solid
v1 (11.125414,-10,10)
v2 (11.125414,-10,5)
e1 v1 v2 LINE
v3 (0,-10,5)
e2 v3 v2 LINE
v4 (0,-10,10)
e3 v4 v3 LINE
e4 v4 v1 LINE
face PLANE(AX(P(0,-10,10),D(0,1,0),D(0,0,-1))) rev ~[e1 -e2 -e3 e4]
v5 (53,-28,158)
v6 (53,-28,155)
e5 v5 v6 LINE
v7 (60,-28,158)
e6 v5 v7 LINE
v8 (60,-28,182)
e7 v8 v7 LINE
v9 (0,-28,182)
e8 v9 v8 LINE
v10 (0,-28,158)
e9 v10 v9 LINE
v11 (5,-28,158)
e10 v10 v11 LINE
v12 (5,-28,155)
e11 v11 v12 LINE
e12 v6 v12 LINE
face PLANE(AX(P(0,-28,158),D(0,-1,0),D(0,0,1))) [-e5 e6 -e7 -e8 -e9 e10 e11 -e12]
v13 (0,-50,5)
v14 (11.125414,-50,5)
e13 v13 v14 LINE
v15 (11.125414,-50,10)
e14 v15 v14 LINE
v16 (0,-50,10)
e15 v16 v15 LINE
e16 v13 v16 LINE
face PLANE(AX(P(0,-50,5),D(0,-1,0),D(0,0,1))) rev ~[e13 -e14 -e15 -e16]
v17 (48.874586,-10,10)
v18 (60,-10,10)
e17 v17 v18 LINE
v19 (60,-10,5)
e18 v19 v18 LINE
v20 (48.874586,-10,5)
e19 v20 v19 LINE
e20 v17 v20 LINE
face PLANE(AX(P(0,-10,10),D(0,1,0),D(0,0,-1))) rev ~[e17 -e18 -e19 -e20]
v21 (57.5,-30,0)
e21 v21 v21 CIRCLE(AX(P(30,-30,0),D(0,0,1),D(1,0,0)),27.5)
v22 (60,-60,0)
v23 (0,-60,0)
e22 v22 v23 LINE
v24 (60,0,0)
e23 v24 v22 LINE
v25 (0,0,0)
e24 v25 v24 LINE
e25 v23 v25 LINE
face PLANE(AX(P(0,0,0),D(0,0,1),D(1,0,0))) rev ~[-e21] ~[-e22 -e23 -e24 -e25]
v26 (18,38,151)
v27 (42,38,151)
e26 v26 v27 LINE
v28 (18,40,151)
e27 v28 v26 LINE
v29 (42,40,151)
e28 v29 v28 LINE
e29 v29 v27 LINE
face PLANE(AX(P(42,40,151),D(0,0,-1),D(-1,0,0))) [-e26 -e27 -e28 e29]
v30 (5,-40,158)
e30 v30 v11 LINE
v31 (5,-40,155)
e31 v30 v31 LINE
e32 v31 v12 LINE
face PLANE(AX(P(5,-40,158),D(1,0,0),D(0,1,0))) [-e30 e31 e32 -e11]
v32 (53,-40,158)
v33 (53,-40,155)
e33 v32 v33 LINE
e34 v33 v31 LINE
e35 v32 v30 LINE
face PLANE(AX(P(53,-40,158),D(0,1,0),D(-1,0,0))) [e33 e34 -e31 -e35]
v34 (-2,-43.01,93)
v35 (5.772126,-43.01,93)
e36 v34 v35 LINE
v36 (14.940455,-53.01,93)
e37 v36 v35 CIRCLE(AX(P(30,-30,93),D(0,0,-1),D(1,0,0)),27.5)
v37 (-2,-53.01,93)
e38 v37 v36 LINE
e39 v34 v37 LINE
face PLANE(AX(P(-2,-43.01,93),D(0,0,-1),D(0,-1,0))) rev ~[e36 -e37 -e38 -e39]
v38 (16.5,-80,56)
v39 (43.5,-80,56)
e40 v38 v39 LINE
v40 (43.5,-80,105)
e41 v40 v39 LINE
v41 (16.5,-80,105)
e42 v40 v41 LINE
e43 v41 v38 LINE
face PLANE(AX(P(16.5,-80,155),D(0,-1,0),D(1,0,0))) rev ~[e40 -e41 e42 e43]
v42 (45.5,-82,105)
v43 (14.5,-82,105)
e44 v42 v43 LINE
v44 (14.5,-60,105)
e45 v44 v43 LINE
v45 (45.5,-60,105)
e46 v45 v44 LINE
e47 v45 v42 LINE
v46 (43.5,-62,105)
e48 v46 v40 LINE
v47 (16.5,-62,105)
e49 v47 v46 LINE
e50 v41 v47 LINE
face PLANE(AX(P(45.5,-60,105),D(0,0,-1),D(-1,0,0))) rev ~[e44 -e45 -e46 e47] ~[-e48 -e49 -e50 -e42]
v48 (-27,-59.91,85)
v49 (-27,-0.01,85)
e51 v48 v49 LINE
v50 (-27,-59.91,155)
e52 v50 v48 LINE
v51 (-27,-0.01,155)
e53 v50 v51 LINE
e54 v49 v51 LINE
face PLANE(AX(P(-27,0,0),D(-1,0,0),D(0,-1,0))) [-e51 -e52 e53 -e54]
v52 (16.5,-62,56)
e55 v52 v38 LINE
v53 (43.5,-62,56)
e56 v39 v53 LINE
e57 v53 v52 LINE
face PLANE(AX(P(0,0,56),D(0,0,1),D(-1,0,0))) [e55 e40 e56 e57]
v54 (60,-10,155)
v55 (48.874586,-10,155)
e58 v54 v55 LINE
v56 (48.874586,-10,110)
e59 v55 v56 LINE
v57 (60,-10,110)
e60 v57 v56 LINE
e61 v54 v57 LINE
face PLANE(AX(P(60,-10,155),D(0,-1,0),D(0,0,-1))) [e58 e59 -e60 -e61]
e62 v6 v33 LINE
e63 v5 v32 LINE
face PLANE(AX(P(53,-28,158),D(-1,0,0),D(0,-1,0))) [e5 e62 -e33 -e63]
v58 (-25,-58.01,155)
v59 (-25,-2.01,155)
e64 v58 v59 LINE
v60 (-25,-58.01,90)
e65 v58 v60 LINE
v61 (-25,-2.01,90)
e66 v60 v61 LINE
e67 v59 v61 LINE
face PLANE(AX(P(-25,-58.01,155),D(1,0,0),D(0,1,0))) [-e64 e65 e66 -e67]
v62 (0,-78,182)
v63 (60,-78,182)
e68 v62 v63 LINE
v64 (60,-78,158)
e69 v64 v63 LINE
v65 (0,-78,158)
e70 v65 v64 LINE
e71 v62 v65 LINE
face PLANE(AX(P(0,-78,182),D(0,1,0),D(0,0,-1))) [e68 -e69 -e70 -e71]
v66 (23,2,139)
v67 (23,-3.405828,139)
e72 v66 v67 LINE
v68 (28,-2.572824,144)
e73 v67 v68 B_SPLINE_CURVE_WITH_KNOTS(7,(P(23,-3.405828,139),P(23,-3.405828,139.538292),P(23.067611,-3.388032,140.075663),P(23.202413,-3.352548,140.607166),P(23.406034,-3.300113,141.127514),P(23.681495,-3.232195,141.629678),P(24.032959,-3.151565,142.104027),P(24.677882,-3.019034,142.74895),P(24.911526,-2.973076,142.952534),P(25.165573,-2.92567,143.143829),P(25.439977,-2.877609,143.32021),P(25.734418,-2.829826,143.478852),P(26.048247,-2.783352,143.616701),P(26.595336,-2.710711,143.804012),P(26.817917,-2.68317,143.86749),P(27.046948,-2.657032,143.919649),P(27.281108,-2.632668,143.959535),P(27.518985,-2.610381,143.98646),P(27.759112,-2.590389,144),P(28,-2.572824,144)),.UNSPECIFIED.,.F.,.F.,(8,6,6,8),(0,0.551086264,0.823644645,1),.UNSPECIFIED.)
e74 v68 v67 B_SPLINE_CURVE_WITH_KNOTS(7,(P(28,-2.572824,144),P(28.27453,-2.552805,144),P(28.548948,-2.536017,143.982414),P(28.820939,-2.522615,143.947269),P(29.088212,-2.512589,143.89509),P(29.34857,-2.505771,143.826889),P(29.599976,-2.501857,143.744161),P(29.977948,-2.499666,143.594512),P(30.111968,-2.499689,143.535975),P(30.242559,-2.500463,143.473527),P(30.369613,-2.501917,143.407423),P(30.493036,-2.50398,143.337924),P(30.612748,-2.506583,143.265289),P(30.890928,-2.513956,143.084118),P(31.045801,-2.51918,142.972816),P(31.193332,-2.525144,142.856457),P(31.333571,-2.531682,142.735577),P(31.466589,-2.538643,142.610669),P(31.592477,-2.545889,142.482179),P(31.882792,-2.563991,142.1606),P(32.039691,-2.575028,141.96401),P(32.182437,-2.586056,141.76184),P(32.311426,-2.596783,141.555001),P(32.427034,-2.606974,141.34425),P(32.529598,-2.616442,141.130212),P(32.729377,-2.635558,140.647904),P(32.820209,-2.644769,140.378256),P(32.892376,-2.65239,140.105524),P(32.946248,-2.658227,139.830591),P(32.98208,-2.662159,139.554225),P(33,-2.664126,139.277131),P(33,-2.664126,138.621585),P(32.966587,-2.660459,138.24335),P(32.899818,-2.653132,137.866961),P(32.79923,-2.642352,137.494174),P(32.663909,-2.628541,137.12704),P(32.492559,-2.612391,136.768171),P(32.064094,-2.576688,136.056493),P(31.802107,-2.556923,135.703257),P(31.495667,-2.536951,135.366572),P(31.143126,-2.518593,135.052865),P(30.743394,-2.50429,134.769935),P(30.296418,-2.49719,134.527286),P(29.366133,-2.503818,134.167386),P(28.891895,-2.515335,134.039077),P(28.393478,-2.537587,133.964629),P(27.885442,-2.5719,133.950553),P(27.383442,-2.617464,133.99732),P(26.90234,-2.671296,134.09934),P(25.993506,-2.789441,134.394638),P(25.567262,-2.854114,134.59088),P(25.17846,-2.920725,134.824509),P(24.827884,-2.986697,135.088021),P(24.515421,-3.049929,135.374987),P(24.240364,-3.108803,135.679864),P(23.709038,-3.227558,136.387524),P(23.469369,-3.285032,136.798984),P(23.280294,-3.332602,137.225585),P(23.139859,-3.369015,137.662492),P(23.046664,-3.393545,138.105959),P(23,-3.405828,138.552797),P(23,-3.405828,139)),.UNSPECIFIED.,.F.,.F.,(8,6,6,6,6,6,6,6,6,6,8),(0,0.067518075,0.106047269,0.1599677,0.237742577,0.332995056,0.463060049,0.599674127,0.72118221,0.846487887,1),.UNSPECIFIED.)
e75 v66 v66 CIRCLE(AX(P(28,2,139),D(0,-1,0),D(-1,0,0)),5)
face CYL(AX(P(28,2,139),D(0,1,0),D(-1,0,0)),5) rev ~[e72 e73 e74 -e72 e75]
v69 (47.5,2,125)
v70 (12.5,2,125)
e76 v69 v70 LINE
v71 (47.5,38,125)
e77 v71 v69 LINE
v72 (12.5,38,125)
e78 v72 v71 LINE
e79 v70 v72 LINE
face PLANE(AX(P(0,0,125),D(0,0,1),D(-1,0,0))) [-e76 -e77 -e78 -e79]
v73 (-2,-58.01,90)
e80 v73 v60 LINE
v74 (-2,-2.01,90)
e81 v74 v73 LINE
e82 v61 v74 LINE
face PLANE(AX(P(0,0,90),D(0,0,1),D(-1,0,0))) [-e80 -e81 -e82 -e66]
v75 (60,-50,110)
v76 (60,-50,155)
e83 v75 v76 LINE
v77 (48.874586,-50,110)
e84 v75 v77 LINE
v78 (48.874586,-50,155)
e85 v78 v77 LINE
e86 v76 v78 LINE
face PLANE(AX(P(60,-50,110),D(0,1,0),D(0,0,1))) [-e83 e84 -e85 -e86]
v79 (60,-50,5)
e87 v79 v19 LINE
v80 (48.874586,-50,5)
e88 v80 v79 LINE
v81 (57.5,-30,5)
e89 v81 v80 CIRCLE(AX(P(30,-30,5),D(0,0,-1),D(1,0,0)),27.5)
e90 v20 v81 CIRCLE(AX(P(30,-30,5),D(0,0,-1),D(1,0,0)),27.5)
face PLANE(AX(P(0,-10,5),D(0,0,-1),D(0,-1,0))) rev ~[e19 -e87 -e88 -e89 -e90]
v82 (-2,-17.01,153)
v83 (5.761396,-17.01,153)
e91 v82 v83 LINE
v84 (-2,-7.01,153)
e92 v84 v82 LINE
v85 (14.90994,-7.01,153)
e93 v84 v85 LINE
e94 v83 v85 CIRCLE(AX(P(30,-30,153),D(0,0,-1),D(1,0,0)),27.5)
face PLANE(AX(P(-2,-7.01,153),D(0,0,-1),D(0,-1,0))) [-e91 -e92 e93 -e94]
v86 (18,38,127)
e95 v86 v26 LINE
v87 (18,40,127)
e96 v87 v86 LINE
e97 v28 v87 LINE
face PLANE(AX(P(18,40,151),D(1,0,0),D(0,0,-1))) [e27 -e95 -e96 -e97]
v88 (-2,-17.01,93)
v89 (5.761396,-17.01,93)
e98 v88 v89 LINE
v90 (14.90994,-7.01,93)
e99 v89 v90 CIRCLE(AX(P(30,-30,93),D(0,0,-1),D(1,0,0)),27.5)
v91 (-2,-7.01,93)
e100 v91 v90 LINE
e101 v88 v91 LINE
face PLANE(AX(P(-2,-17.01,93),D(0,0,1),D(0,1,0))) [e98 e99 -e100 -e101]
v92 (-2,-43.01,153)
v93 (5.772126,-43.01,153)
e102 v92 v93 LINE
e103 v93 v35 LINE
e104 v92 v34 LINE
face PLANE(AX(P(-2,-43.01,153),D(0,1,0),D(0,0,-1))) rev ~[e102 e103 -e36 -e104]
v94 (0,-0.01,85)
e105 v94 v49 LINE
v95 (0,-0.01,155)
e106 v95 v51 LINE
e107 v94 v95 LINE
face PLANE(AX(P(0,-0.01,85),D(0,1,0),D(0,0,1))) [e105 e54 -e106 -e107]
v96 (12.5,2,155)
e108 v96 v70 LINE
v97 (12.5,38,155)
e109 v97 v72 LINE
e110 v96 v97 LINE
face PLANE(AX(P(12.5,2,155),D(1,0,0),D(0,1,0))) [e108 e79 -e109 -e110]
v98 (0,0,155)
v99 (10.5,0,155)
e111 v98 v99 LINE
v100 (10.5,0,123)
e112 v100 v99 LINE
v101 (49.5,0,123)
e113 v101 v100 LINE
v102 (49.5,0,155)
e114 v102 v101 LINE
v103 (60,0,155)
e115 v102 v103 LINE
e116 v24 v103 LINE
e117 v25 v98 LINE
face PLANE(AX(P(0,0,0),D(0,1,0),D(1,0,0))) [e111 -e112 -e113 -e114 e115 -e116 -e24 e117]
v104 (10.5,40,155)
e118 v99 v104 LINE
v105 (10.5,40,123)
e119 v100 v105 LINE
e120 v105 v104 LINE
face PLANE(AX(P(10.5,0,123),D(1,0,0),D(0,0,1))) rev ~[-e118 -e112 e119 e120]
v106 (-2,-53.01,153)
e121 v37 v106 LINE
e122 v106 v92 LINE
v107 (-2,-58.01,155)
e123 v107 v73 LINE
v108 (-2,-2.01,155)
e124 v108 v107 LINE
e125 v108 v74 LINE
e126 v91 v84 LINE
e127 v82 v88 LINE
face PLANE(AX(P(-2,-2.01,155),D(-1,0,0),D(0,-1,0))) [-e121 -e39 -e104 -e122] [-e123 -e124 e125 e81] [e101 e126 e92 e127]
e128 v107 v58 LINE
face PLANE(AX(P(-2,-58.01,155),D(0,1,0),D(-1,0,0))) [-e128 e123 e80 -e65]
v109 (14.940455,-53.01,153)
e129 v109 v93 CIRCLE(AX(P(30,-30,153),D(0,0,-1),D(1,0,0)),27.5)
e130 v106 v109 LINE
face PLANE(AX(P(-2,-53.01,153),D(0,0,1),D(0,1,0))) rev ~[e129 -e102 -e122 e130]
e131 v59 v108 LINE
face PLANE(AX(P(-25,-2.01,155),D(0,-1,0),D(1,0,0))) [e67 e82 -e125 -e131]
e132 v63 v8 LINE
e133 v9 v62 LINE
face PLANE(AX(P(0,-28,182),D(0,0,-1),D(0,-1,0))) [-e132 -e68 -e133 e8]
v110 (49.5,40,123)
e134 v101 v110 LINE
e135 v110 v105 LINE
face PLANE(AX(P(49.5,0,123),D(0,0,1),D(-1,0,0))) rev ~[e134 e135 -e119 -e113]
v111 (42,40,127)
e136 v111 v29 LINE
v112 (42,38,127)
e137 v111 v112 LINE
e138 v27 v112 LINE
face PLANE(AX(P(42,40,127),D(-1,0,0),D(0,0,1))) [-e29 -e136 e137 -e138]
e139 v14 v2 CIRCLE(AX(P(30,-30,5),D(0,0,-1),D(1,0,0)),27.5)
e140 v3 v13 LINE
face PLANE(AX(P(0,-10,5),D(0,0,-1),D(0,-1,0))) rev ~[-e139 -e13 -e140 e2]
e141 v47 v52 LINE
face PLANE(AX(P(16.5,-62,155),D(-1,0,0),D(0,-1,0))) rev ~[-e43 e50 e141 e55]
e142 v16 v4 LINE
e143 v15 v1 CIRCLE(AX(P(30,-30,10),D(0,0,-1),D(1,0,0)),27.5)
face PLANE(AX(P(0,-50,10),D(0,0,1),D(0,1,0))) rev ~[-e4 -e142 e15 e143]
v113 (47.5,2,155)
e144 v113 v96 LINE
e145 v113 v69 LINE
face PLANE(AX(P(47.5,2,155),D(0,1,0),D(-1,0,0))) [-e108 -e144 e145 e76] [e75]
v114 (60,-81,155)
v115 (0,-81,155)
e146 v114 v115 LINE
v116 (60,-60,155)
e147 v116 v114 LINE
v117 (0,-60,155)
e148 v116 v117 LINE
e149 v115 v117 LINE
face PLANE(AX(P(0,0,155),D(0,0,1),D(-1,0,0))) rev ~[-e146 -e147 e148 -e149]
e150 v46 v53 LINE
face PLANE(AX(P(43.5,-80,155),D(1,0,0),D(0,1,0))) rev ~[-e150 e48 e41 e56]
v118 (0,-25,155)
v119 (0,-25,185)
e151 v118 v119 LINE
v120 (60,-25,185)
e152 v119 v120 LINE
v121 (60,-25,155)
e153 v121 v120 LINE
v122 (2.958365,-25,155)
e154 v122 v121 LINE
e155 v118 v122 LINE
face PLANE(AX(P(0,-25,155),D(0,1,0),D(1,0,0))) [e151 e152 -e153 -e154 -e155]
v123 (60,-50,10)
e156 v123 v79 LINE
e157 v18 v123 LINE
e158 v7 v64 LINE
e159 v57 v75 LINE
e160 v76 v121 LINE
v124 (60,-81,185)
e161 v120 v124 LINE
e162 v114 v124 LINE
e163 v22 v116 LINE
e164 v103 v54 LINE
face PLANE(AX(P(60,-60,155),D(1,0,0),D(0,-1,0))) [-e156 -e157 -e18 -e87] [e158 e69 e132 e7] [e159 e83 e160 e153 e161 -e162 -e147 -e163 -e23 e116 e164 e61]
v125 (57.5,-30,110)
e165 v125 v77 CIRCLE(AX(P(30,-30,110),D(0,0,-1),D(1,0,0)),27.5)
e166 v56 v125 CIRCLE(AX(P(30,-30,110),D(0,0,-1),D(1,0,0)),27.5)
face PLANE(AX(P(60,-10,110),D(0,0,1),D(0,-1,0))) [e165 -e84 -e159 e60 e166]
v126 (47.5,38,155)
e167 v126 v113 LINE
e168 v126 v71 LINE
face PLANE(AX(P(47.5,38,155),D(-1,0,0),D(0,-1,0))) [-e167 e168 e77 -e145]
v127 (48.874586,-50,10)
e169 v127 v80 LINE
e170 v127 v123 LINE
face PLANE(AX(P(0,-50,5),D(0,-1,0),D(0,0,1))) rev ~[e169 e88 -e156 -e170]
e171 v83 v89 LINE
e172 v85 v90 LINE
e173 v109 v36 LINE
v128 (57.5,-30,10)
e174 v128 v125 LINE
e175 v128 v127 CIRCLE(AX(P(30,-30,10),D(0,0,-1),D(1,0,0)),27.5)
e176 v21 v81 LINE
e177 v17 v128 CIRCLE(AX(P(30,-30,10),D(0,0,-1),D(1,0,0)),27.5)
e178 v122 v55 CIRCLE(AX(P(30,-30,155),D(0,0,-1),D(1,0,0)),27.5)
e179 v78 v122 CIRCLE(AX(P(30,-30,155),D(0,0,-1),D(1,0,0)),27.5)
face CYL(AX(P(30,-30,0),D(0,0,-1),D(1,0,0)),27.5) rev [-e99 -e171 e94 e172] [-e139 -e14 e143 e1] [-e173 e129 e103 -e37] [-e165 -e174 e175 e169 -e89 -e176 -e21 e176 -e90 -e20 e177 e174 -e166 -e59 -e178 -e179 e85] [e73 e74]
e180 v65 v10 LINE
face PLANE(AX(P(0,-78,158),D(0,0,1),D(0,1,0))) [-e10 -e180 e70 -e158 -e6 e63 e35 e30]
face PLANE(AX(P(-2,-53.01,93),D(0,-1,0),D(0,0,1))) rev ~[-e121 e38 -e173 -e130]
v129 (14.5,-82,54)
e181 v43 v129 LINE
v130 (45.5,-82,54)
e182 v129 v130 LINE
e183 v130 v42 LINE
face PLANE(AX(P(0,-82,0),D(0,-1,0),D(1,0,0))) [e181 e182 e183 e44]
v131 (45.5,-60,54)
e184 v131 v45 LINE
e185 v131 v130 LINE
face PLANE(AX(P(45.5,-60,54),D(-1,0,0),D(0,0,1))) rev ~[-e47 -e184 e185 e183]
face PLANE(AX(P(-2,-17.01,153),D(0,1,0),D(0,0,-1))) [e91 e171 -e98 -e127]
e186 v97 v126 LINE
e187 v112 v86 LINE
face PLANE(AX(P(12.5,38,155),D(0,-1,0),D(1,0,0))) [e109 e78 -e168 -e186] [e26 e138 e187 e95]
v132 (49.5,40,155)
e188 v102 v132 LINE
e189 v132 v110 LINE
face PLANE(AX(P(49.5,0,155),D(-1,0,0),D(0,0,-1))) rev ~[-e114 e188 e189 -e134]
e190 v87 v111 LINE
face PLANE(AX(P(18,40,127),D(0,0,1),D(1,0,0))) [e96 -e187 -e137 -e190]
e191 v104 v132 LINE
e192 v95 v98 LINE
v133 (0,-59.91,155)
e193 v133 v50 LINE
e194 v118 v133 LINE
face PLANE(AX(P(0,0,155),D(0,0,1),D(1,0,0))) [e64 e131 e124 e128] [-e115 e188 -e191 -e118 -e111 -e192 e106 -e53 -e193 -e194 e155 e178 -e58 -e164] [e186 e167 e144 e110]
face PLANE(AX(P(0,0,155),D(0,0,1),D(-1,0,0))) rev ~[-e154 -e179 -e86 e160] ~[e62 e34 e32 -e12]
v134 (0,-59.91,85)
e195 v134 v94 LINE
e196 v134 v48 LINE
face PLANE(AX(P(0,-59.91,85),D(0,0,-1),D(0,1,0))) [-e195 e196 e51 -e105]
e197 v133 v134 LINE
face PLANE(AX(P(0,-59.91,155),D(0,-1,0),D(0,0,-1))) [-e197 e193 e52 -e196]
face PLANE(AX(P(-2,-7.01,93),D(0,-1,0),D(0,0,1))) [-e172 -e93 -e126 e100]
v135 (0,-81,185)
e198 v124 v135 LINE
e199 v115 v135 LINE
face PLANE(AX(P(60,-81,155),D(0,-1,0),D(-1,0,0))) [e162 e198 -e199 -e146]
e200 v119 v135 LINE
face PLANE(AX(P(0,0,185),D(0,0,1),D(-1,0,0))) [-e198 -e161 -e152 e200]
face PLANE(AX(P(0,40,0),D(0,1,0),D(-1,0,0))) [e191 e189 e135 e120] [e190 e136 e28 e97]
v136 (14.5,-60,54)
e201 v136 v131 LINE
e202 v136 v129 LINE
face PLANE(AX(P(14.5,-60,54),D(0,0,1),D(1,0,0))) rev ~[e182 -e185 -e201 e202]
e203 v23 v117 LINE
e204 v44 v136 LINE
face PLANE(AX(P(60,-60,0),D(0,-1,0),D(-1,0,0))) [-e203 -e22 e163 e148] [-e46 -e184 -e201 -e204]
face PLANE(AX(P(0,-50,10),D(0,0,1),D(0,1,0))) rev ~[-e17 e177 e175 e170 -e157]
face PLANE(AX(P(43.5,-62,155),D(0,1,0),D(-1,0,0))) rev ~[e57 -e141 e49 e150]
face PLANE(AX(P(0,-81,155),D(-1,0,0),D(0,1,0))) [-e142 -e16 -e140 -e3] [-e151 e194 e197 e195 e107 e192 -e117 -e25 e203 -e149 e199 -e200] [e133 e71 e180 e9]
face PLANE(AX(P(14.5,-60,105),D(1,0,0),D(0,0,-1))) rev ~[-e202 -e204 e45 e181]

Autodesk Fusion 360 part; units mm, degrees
sketch "Sketch1" plane through (0, 0, 0) normal (0, 0, 1) x (1, 0, 0)
  line L0 (0, 0) -> (60, 0)
  line L1 (60, 0) -> (60, -60)
  line L2 (60, -60) -> (0, -60)
  line L3 (0, -60) -> (0, 0)
  dimension "d1" = 60
  dimension "d2" = 60
extrude "Extrude1" add sketch "Sketch1" along normal blind 155
sketch "Sketch2" plane through (0, 0, 0) normal (0, 0, 1) x (1, 0, 0)
  line L0 (0, 0) -> (30, 0)
  line L1 (30, 0) -> (30, -30)
  circle A0 centre (30, -30) radius 27.5
  dimension "d5" = 30
  dimension "d6" = 30
  dimension "d7" = 55
extrude "Extrude2" cut sketch "Sketch2" along normal through all
sketch "Sketch3" plane through (0, 0, 0) normal (1, 0, 0) x (0, 1, 0)
  line L0 (0, 0) -> (0, 5)
  line L1 (0, 5) -> (-10, 5)
  line L2 (-10, 5) -> (-50, 5)
  line L3 (-50, 5) -> (-50, 10)
  line L4 (-50, 10) -> (-10, 10)
  line L5 (-10, 10) -> (-10, 5)
  dimension "d9" = 10
  dimension "d10" = 5
  dimension "d11" = 40
  dimension "d12" = 5
extrude "Extrude3" cut sketch "Sketch3" along normal through all
sketch "Sketch4" plane through (0, 0, 0) normal (-1, 0, 0) x (0, -1, 0)
  line L0 (50, 10) -> (50, 5)
  line L1 (50, 5) -> (10, 5)
  line L2 (10, 5) -> (10, 10)
  line L3 (10, 10) -> (50, 10)
  line L4 (0, 0) -> (60, 0)
  line L5 (60, 0) -> (60, 155)
  line L6 (60, 155) -> (0, 155)
  line L7 (0, 155) -> (0, 0)
  line L8 (0, 155) -> (0.01, 155)
  line L9 (0.01, 155) -> (59.91, 155)
  line L10 (59.91, 155) -> (59.91, 85)
  line L11 (59.91, 85) -> (0.01, 85)
  line L12 (0.01, 85) -> (0.01, 155)
  dimension "d14" = 0.01
  dimension "d15" = 59.9
  dimension "d16" = 70
extrude "Extrude4" add sketch "Sketch4" along normal blind 27 contours L6 L9 L10 L11 L12
sketch "Sketch5" plane through (0, 0, 155) normal (0, 0, 1) x (-1, 0, 0)
  circle A0 centre (-30, 30) radius 27.5
  line L0 (0, 60) -> (-60, 60)
  line L1 (-60, 60) -> (-60, 0)
  line L2 (-60, 0) -> (0, 0)
  line L3 (0, 0) -> (0, 0.01)
  line L4 (0, 0.01) -> (27, 0.01)
  line L5 (27, 0.01) -> (27, 59.91)
  line L6 (27, 59.91) -> (0, 59.91)
  line L7 (0, 59.91) -> (0, 60)
  line L8 (27, 0.01) -> (25, 0.01)
  line L9 (25, 0.01) -> (25, 2.01)
  line L10 (25, 2.01) -> (2, 2.01)
  line L11 (2, 2.01) -> (2, 58.01)
  line L12 (2, 58.01) -> (25, 58.01)
  line L13 (25, 58.01) -> (25, 2.01)
  dimension "d19" = 2
  dimension "d20" = 2
  dimension "d21" = 23
  dimension "d22" = 56
extrude "Extrude5" cut sketch "Sketch5" against normal blind 65 contours L10 L11 L12 L13
sketch "Sketch6" plane through (0, -60, 0) normal (0, -1, 0) x (1, 0, 0)
  line L0 (0, 0) -> (60, 0)
  line L1 (60, 0) -> (60, 155)
  line L2 (60, 155) -> (0, 155)
  line L3 (0, 155) -> (0, 0)
sketch "Sketch7" plane through (60, 0, 0) normal (1, 0, 0) x (0, 1, 0)
  line L0 (-50, 5) -> (-50, 10)
  line L1 (-50, 10) -> (-10, 10)
  line L2 (-10, 10) -> (-10, 5)
  line L3 (-10, 5) -> (-50, 5)
  line L4 (-60, 0) -> (0, 0)
  line L5 (0, 0) -> (0, 155)
  line L6 (0, 155) -> (-60, 155)
  line L7 (-60, 155) -> (-60, 0)
sketch "Sketch8" plane through (0, -60, 0) normal (0, -1, 0) x (1, 0, 0)
sketch "Sketch9" plane through (0, -60, 0) normal (0, -1, 0) x (1, 0, 0)
sketch "Sketch10" plane through (0, 0, 0) normal (0, 1, 0) x (-1, 0, 0)
  line L0 (-60, 0) -> (0, 0)
  line L1 (0, 0) -> (0, 155)
  line L2 (0, 155) -> (-60, 155)
  line L3 (-60, 155) -> (-60, 0)
  line L4 (0, 155) -> (-10.5, 155)
  line L5 (-10.5, 155) -> (-49.5, 155)
  line L6 (-49.5, 155) -> (-49.5, 123)
  line L7 (-49.5, 123) -> (-10.5, 123)
  line L8 (-10.5, 123) -> (-10.5, 155)
  dimension "d25" = 10.5
  dimension "d26" = 39
  dimension "d27" = 32
extrude "Extrude6" add sketch "Sketch10" along normal blind 40 contours L2 L5 L6 L7 L8
sketch "Sketch11" plane through (0, 0, 155) normal (0, 0, 1) x (-1, 0, 0)
  line L0 (2, 2.01) -> (2, 58.01)
  line L1 (2, 58.01) -> (25, 58.01)
  line L2 (25, 58.01) -> (25, 2.01)
  line L3 (25, 2.01) -> (2, 2.01)
  circle A0 centre (-30, 30) radius 27.5
  line L4 (0, 60) -> (-60, 60)
  line L5 (-60, 60) -> (-60, 0)
  line L6 (-60, 0) -> (-49.5, 0)
  line L7 (-49.5, 0) -> (-49.5, -40)
  line L8 (-49.5, -40) -> (-10.5, -40)
  line L9 (-10.5, -40) -> (-10.5, 0)
  line L10 (-10.5, 0) -> (0, 0)
  line L11 (0, 0) -> (0, 0.01)
  line L12 (0, 0.01) -> (27, 0.01)
  line L13 (27, 0.01) -> (27, 59.91)
  line L14 (27, 59.91) -> (0, 59.91)
  line L15 (0, 59.91) -> (0, 60)
sketch "Sketch12" plane through (0, 0, 155) normal (0, 0, 1) x (-1, 0, 0)
sketch "Sketch13" plane through (0, 0, 155) normal (0, 0, 1) x (-1, 0, 0)
sketch "Sketch15" plane through (0, 0, 155) normal (0, 0, 1) x (-1, 0, 0)
  line L0 (-49.5, 0) -> (-47.5, 0)
  line L1 (-47.5, 0) -> (-47.5, -2)
  line L2 (-60, 0) -> (-49.5, 0)
  line L3 (-49.5, 0) -> (-49.5, -40)
  line L4 (-47.5, -2) -> (-12.5, -2)
  line L5 (-12.5, -2) -> (-12.5, -38)
  line L6 (-12.5, -38) -> (-47.5, -38)
  line L7 (-47.5, -38) -> (-47.5, -2)
  dimension "d34" = 2
  dimension "d35" = 2
  dimension "d36" = 35
  dimension "d37" = 36
extrude "Extrude7" cut sketch "Sketch15" against normal blind 30
sketch "Sketch16" plane through (0, 40, 0) normal (0, 1, 0) x (-1, 0, 0)
  line L0 (-10.5, 123) -> (-10.5, 155)
  line L1 (-10.5, 155) -> (-49.5, 155)
  line L2 (-49.5, 155) -> (-49.5, 123)
  line L3 (-49.5, 123) -> (-10.5, 123)
  line L4 (-49.5, 155) -> (-42, 155)
  line L5 (-42, 155) -> (-42, 151)
  line L6 (-42, 151) -> (-18, 151)
  line L7 (-18, 151) -> (-18, 127)
  line L8 (-18, 127) -> (-42, 127)
  line L9 (-42, 127) -> (-42, 151)
  dimension "d40" = 7.5
  dimension "d41" = 4
  dimension "d42" = 24
  dimension "d43" = 24
extrude "Extrude8" cut sketch "Sketch16" against normal blind 15 contours L6 L7 L8 L9
sketch "Sketch17" plane through (0, 2, 0) normal (0, 1, 0) x (-1, 0, 0)
  line L0 (-12.5, 155) -> (-47.5, 155)
  line L1 (-47.5, 155) -> (-47.5, 125)
  line L2 (-47.5, 125) -> (-12.5, 125)
  line L3 (-12.5, 125) -> (-12.5, 155)
  line L4 (-47.5, 155) -> (-28, 155)
  line L5 (-28, 155) -> (-28, 139)
  circle A0 centre (-28, 139) radius 5
  dimension "d46" = 19.5
  dimension "d47" = 16
  dimension "d48" = 10
extrude "Extrude9" cut sketch "Sketch17" against normal blind 12 contours A0
sketch "Sketch18" plane through (0, -60, 0) normal (0, -1, 0) x (1, 0, 0)
sketch "Sketch19" plane through (0, -60, 0) normal (0, -1, 0) x (1, 0, 0)
sketch "Sketch20" plane through (0, -60, 0) normal (0, -1, 0) x (1, 0, 0)
  line L0 (45.5, 105) -> (14.5, 105)
  line L1 (14.5, 105) -> (14.5, 54)
  line L2 (14.5, 54) -> (45.5, 54)
  line L3 (45.5, 54) -> (45.5, 105)
  line L4 (60, 0) -> (60, 155)
  line L5 (45.5, 105) -> (60, 105)
  line L6 (60, 105) -> (60, 155)
  dimension "d52" = 31
  dimension "d53" = 51
  dimension "d96" = 50
  dimension "d97" = 14.5
extrude "Extrude10" add sketch "Sketch20" along normal blind 22
sketch "Sketch21" plane through (0, 0, 155) normal (0, 0, 1) x (-1, 0, 0)
  line L0 (-12.5, -2) -> (-12.5, -38)
  line L1 (-12.5, -38) -> (-47.5, -38)
  line L2 (-47.5, -38) -> (-47.5, -2)
  line L3 (-47.5, -2) -> (-12.5, -2)
  line L4 (2, 2.01) -> (2, 58.01)
  line L5 (2, 58.01) -> (25, 58.01)
  line L6 (25, 58.01) -> (25, 2.01)
  line L7 (25, 2.01) -> (2, 2.01)
  circle A0 centre (-30, 30) radius 27.5
  line L8 (0, 60) -> (-60, 60)
  line L9 (-60, 60) -> (-60, 0)
  line L10 (-60, 0) -> (-49.5, 0)
  line L11 (-49.5, 0) -> (-49.5, -40)
  line L12 (-49.5, -40) -> (-10.5, -40)
  line L13 (-10.5, -40) -> (-10.5, 0)
  line L14 (-10.5, 0) -> (0, 0)
  line L15 (0, 0) -> (0, 0.01)
  line L16 (0, 0.01) -> (27, 0.01)
  line L17 (27, 0.01) -> (27, 59.91)
  line L18 (27, 59.91) -> (0, 59.91)
  line L19 (0, 59.91) -> (0, 60)
  line L20 (-14.5, 82) -> (-14.5, 80)
  line L21 (-14.5, 80) -> (-16.5, 80)
  dimension "d56" = 2
  dimension "d57" = 2
sketch "Sketch22" plane through (0, 0, 155) normal (0, 0, 1) x (-1, 0, 0)
  line L0 (-16.5, 80) -> (-43.5, 80)
  line L1 (-43.5, 80) -> (-43.5, 62)
  line L2 (-43.5, 62) -> (-16.5, 62)
  line L3 (-16.5, 62) -> (-16.5, 80)
  dimension "d58" = 27
  dimension "d59" = 18
extrude "Extrude11" cut sketch "Sketch22" against normal blind 99
sketch "Sketch23" plane through (0, 0, 155) normal (0, 0, 1) x (-1, 0, 0)
sketch "Sketch24" plane through (0, 0, 155) normal (0, 0, 1) x (1, 0, 0)
sketch "Sketch26" plane through (-2, 0, 0) normal (-1, 0, 0) x (0, -1, 0)
  line L0 (58.01, 155) -> (2.01, 155)
  line L1 (2.01, 155) -> (2.01, 90)
  line L2 (2.01, 90) -> (58.01, 90)
  line L3 (58.01, 90) -> (58.01, 155)
  line L4 (2.01, 155) -> (2.01, 153)
  line L5 (2.01, 153) -> (7.01, 153)
  line L6 (7.01, 153) -> (17.01, 153)
  line L7 (17.01, 153) -> (17.01, 93)
  line L8 (17.01, 93) -> (7.01, 93)
  line L9 (7.01, 93) -> (7.01, 153)
  line L10 (30.01, 155) -> (30.01, 90)
  line L11 (2.01, 155) -> (58.01, 155)
  line L12 (43.01, 153) -> (43.01, 93)
  line L13 (53.01, 153) -> (43.01, 153)
  line L14 (53.01, 93) -> (53.01, 153)
  line L15 (43.01, 93) -> (53.01, 93)
  dimension "d66" = 2
  dimension "d67" = 5
  dimension "d68" = 10
  dimension "d69" = 60
extrude "Extrude14" cut sketch "Sketch26" against normal blind 25 contours L12 L13 L14 L15
extrude "Extrude13" cut sketch "Sketch26" against normal blind 25 contours L6 L7 L8 L9
sketch "Sketch27" plane through (60, 0, 0) normal (1, 0, 0) x (0, 1, 0)
  line L0 (-60, 155) -> (-50, 155)
  line L1 (-50, 155) -> (-10, 155)
  line L2 (-10, 155) -> (-10, 110)
  line L3 (-10, 110) -> (-50, 110)
  line L4 (-50, 110) -> (-50, 155)
  dimension "d74" = 10
  dimension "d75" = 40
  dimension "d76" = 45
extrude "Extrude15" cut sketch "Sketch27" against normal blind 20
sketch "Sketch28" plane through (0, 0, 155) normal (0, 0, 1) x (-1, 0, 0)
  line L0 (-60, 30) -> (0, 30) construction
  line L1 (-60, 60) -> (-60, 0)
  line L2 (0, 30) -> (0, 25)
  line L3 (0, 25) -> (-60, 25)
  line L4 (-60, 25) -> (-60, 81)
  line L5 (-60, 81) -> (0, 81)
  line L6 (0, 81) -> (0, 25)
  dimension "d79" = 5
  dimension "d80" = 60
  dimension "d81" = 56
extrude "Extrude16" add sketch "Sketch28" along normal blind 30
sketch "Sketch29" plane through (0, 0, 155) normal (0, 0, 1) x (-1, 0, 0)
sketch "Sketch30" plane through (0, 0, 0) normal (-1, 0, 0) x (0, -1, 0)
  line L0 (59.91, 155) -> (59.91, 85)
  line L1 (59.91, 85) -> (0.01, 85)
  line L2 (0.01, 85) -> (0.01, 155)
  line L3 (0.01, 155) -> (0, 155)
  line L4 (0, 155) -> (0, 0)
  line L5 (0, 0) -> (60, 0)
  line L6 (60, 0) -> (60, 155)
  line L7 (60, 155) -> (81, 155)
  line L8 (81, 155) -> (81, 185)
  line L9 (81, 185) -> (25, 185)
  line L10 (25, 185) -> (25, 155)
  line L11 (25, 155) -> (59.91, 155)
  line L12 (50, 10) -> (50, 5)
  line L13 (50, 5) -> (10, 5)
  line L14 (10, 5) -> (10, 10)
  line L15 (10, 10) -> (50, 10)
  line L16 (25, 185) -> (28, 185)
  line L17 (28, 185) -> (28, 182)
  line L18 (28, 182) -> (78, 182)
  line L19 (78, 182) -> (78, 158)
  line L20 (78, 158) -> (28, 158)
  line L21 (28, 158) -> (28, 182)
  dimension "d84" = 3
  dimension "d85" = 3
  dimension "d86" = 50
  dimension "d87" = 24
extrude "Extrude17" cut sketch "Sketch30" against normal through all contours L18 L19 L20 L21
sketch "Sketch31" plane through (60, 0, 0) normal (1, 0, 0) x (0, 1, 0)
sketch "Sketch32" plane through (0, 0, 185) normal (0, 0, 1) x (-1, 0, 0)
  line L0 (0, 81) -> (-60, 81)
  line L1 (-60, 81) -> (-60, 25)
  line L2 (-60, 25) -> (0, 25)
  line L3 (0, 25) -> (0, 81)
  line L4 (0, 25) -> (-60, 25)
  line L5 (-60, 25) -> (-60, 48)
  line L6 (-60, 48) -> (0, 48)
  line L7 (0, 48) -> (0, 25)
  dimension "d89" = 60
  dimension "d90" = 23
sketch "Sketch33" plane through (0, 0, 158) normal (0, 0, 1) x (-1, 0, 0)
  line L0 (-60, 78) -> (-60, 28)
  line L1 (-60, 28) -> (0, 28)
  line L2 (0, 28) -> (0, 78)
  line L3 (0, 78) -> (-60, 78)
  line L4 (0, 28) -> (-5, 28)
  line L5 (-5, 28) -> (-53, 28)
  line L6 (-53, 28) -> (-53, 40)
  line L7 (-53, 40) -> (-5, 40)
  line L8 (-5, 40) -> (-5, 28)
  dimension "d93" = 48
  dimension "d94" = 12
extrude "Extrude19" cut sketch "Sketch33" against normal through all contours L1 L5 L6 L7 L8
equation "d60 = -49.00 mm - 50 mm"
